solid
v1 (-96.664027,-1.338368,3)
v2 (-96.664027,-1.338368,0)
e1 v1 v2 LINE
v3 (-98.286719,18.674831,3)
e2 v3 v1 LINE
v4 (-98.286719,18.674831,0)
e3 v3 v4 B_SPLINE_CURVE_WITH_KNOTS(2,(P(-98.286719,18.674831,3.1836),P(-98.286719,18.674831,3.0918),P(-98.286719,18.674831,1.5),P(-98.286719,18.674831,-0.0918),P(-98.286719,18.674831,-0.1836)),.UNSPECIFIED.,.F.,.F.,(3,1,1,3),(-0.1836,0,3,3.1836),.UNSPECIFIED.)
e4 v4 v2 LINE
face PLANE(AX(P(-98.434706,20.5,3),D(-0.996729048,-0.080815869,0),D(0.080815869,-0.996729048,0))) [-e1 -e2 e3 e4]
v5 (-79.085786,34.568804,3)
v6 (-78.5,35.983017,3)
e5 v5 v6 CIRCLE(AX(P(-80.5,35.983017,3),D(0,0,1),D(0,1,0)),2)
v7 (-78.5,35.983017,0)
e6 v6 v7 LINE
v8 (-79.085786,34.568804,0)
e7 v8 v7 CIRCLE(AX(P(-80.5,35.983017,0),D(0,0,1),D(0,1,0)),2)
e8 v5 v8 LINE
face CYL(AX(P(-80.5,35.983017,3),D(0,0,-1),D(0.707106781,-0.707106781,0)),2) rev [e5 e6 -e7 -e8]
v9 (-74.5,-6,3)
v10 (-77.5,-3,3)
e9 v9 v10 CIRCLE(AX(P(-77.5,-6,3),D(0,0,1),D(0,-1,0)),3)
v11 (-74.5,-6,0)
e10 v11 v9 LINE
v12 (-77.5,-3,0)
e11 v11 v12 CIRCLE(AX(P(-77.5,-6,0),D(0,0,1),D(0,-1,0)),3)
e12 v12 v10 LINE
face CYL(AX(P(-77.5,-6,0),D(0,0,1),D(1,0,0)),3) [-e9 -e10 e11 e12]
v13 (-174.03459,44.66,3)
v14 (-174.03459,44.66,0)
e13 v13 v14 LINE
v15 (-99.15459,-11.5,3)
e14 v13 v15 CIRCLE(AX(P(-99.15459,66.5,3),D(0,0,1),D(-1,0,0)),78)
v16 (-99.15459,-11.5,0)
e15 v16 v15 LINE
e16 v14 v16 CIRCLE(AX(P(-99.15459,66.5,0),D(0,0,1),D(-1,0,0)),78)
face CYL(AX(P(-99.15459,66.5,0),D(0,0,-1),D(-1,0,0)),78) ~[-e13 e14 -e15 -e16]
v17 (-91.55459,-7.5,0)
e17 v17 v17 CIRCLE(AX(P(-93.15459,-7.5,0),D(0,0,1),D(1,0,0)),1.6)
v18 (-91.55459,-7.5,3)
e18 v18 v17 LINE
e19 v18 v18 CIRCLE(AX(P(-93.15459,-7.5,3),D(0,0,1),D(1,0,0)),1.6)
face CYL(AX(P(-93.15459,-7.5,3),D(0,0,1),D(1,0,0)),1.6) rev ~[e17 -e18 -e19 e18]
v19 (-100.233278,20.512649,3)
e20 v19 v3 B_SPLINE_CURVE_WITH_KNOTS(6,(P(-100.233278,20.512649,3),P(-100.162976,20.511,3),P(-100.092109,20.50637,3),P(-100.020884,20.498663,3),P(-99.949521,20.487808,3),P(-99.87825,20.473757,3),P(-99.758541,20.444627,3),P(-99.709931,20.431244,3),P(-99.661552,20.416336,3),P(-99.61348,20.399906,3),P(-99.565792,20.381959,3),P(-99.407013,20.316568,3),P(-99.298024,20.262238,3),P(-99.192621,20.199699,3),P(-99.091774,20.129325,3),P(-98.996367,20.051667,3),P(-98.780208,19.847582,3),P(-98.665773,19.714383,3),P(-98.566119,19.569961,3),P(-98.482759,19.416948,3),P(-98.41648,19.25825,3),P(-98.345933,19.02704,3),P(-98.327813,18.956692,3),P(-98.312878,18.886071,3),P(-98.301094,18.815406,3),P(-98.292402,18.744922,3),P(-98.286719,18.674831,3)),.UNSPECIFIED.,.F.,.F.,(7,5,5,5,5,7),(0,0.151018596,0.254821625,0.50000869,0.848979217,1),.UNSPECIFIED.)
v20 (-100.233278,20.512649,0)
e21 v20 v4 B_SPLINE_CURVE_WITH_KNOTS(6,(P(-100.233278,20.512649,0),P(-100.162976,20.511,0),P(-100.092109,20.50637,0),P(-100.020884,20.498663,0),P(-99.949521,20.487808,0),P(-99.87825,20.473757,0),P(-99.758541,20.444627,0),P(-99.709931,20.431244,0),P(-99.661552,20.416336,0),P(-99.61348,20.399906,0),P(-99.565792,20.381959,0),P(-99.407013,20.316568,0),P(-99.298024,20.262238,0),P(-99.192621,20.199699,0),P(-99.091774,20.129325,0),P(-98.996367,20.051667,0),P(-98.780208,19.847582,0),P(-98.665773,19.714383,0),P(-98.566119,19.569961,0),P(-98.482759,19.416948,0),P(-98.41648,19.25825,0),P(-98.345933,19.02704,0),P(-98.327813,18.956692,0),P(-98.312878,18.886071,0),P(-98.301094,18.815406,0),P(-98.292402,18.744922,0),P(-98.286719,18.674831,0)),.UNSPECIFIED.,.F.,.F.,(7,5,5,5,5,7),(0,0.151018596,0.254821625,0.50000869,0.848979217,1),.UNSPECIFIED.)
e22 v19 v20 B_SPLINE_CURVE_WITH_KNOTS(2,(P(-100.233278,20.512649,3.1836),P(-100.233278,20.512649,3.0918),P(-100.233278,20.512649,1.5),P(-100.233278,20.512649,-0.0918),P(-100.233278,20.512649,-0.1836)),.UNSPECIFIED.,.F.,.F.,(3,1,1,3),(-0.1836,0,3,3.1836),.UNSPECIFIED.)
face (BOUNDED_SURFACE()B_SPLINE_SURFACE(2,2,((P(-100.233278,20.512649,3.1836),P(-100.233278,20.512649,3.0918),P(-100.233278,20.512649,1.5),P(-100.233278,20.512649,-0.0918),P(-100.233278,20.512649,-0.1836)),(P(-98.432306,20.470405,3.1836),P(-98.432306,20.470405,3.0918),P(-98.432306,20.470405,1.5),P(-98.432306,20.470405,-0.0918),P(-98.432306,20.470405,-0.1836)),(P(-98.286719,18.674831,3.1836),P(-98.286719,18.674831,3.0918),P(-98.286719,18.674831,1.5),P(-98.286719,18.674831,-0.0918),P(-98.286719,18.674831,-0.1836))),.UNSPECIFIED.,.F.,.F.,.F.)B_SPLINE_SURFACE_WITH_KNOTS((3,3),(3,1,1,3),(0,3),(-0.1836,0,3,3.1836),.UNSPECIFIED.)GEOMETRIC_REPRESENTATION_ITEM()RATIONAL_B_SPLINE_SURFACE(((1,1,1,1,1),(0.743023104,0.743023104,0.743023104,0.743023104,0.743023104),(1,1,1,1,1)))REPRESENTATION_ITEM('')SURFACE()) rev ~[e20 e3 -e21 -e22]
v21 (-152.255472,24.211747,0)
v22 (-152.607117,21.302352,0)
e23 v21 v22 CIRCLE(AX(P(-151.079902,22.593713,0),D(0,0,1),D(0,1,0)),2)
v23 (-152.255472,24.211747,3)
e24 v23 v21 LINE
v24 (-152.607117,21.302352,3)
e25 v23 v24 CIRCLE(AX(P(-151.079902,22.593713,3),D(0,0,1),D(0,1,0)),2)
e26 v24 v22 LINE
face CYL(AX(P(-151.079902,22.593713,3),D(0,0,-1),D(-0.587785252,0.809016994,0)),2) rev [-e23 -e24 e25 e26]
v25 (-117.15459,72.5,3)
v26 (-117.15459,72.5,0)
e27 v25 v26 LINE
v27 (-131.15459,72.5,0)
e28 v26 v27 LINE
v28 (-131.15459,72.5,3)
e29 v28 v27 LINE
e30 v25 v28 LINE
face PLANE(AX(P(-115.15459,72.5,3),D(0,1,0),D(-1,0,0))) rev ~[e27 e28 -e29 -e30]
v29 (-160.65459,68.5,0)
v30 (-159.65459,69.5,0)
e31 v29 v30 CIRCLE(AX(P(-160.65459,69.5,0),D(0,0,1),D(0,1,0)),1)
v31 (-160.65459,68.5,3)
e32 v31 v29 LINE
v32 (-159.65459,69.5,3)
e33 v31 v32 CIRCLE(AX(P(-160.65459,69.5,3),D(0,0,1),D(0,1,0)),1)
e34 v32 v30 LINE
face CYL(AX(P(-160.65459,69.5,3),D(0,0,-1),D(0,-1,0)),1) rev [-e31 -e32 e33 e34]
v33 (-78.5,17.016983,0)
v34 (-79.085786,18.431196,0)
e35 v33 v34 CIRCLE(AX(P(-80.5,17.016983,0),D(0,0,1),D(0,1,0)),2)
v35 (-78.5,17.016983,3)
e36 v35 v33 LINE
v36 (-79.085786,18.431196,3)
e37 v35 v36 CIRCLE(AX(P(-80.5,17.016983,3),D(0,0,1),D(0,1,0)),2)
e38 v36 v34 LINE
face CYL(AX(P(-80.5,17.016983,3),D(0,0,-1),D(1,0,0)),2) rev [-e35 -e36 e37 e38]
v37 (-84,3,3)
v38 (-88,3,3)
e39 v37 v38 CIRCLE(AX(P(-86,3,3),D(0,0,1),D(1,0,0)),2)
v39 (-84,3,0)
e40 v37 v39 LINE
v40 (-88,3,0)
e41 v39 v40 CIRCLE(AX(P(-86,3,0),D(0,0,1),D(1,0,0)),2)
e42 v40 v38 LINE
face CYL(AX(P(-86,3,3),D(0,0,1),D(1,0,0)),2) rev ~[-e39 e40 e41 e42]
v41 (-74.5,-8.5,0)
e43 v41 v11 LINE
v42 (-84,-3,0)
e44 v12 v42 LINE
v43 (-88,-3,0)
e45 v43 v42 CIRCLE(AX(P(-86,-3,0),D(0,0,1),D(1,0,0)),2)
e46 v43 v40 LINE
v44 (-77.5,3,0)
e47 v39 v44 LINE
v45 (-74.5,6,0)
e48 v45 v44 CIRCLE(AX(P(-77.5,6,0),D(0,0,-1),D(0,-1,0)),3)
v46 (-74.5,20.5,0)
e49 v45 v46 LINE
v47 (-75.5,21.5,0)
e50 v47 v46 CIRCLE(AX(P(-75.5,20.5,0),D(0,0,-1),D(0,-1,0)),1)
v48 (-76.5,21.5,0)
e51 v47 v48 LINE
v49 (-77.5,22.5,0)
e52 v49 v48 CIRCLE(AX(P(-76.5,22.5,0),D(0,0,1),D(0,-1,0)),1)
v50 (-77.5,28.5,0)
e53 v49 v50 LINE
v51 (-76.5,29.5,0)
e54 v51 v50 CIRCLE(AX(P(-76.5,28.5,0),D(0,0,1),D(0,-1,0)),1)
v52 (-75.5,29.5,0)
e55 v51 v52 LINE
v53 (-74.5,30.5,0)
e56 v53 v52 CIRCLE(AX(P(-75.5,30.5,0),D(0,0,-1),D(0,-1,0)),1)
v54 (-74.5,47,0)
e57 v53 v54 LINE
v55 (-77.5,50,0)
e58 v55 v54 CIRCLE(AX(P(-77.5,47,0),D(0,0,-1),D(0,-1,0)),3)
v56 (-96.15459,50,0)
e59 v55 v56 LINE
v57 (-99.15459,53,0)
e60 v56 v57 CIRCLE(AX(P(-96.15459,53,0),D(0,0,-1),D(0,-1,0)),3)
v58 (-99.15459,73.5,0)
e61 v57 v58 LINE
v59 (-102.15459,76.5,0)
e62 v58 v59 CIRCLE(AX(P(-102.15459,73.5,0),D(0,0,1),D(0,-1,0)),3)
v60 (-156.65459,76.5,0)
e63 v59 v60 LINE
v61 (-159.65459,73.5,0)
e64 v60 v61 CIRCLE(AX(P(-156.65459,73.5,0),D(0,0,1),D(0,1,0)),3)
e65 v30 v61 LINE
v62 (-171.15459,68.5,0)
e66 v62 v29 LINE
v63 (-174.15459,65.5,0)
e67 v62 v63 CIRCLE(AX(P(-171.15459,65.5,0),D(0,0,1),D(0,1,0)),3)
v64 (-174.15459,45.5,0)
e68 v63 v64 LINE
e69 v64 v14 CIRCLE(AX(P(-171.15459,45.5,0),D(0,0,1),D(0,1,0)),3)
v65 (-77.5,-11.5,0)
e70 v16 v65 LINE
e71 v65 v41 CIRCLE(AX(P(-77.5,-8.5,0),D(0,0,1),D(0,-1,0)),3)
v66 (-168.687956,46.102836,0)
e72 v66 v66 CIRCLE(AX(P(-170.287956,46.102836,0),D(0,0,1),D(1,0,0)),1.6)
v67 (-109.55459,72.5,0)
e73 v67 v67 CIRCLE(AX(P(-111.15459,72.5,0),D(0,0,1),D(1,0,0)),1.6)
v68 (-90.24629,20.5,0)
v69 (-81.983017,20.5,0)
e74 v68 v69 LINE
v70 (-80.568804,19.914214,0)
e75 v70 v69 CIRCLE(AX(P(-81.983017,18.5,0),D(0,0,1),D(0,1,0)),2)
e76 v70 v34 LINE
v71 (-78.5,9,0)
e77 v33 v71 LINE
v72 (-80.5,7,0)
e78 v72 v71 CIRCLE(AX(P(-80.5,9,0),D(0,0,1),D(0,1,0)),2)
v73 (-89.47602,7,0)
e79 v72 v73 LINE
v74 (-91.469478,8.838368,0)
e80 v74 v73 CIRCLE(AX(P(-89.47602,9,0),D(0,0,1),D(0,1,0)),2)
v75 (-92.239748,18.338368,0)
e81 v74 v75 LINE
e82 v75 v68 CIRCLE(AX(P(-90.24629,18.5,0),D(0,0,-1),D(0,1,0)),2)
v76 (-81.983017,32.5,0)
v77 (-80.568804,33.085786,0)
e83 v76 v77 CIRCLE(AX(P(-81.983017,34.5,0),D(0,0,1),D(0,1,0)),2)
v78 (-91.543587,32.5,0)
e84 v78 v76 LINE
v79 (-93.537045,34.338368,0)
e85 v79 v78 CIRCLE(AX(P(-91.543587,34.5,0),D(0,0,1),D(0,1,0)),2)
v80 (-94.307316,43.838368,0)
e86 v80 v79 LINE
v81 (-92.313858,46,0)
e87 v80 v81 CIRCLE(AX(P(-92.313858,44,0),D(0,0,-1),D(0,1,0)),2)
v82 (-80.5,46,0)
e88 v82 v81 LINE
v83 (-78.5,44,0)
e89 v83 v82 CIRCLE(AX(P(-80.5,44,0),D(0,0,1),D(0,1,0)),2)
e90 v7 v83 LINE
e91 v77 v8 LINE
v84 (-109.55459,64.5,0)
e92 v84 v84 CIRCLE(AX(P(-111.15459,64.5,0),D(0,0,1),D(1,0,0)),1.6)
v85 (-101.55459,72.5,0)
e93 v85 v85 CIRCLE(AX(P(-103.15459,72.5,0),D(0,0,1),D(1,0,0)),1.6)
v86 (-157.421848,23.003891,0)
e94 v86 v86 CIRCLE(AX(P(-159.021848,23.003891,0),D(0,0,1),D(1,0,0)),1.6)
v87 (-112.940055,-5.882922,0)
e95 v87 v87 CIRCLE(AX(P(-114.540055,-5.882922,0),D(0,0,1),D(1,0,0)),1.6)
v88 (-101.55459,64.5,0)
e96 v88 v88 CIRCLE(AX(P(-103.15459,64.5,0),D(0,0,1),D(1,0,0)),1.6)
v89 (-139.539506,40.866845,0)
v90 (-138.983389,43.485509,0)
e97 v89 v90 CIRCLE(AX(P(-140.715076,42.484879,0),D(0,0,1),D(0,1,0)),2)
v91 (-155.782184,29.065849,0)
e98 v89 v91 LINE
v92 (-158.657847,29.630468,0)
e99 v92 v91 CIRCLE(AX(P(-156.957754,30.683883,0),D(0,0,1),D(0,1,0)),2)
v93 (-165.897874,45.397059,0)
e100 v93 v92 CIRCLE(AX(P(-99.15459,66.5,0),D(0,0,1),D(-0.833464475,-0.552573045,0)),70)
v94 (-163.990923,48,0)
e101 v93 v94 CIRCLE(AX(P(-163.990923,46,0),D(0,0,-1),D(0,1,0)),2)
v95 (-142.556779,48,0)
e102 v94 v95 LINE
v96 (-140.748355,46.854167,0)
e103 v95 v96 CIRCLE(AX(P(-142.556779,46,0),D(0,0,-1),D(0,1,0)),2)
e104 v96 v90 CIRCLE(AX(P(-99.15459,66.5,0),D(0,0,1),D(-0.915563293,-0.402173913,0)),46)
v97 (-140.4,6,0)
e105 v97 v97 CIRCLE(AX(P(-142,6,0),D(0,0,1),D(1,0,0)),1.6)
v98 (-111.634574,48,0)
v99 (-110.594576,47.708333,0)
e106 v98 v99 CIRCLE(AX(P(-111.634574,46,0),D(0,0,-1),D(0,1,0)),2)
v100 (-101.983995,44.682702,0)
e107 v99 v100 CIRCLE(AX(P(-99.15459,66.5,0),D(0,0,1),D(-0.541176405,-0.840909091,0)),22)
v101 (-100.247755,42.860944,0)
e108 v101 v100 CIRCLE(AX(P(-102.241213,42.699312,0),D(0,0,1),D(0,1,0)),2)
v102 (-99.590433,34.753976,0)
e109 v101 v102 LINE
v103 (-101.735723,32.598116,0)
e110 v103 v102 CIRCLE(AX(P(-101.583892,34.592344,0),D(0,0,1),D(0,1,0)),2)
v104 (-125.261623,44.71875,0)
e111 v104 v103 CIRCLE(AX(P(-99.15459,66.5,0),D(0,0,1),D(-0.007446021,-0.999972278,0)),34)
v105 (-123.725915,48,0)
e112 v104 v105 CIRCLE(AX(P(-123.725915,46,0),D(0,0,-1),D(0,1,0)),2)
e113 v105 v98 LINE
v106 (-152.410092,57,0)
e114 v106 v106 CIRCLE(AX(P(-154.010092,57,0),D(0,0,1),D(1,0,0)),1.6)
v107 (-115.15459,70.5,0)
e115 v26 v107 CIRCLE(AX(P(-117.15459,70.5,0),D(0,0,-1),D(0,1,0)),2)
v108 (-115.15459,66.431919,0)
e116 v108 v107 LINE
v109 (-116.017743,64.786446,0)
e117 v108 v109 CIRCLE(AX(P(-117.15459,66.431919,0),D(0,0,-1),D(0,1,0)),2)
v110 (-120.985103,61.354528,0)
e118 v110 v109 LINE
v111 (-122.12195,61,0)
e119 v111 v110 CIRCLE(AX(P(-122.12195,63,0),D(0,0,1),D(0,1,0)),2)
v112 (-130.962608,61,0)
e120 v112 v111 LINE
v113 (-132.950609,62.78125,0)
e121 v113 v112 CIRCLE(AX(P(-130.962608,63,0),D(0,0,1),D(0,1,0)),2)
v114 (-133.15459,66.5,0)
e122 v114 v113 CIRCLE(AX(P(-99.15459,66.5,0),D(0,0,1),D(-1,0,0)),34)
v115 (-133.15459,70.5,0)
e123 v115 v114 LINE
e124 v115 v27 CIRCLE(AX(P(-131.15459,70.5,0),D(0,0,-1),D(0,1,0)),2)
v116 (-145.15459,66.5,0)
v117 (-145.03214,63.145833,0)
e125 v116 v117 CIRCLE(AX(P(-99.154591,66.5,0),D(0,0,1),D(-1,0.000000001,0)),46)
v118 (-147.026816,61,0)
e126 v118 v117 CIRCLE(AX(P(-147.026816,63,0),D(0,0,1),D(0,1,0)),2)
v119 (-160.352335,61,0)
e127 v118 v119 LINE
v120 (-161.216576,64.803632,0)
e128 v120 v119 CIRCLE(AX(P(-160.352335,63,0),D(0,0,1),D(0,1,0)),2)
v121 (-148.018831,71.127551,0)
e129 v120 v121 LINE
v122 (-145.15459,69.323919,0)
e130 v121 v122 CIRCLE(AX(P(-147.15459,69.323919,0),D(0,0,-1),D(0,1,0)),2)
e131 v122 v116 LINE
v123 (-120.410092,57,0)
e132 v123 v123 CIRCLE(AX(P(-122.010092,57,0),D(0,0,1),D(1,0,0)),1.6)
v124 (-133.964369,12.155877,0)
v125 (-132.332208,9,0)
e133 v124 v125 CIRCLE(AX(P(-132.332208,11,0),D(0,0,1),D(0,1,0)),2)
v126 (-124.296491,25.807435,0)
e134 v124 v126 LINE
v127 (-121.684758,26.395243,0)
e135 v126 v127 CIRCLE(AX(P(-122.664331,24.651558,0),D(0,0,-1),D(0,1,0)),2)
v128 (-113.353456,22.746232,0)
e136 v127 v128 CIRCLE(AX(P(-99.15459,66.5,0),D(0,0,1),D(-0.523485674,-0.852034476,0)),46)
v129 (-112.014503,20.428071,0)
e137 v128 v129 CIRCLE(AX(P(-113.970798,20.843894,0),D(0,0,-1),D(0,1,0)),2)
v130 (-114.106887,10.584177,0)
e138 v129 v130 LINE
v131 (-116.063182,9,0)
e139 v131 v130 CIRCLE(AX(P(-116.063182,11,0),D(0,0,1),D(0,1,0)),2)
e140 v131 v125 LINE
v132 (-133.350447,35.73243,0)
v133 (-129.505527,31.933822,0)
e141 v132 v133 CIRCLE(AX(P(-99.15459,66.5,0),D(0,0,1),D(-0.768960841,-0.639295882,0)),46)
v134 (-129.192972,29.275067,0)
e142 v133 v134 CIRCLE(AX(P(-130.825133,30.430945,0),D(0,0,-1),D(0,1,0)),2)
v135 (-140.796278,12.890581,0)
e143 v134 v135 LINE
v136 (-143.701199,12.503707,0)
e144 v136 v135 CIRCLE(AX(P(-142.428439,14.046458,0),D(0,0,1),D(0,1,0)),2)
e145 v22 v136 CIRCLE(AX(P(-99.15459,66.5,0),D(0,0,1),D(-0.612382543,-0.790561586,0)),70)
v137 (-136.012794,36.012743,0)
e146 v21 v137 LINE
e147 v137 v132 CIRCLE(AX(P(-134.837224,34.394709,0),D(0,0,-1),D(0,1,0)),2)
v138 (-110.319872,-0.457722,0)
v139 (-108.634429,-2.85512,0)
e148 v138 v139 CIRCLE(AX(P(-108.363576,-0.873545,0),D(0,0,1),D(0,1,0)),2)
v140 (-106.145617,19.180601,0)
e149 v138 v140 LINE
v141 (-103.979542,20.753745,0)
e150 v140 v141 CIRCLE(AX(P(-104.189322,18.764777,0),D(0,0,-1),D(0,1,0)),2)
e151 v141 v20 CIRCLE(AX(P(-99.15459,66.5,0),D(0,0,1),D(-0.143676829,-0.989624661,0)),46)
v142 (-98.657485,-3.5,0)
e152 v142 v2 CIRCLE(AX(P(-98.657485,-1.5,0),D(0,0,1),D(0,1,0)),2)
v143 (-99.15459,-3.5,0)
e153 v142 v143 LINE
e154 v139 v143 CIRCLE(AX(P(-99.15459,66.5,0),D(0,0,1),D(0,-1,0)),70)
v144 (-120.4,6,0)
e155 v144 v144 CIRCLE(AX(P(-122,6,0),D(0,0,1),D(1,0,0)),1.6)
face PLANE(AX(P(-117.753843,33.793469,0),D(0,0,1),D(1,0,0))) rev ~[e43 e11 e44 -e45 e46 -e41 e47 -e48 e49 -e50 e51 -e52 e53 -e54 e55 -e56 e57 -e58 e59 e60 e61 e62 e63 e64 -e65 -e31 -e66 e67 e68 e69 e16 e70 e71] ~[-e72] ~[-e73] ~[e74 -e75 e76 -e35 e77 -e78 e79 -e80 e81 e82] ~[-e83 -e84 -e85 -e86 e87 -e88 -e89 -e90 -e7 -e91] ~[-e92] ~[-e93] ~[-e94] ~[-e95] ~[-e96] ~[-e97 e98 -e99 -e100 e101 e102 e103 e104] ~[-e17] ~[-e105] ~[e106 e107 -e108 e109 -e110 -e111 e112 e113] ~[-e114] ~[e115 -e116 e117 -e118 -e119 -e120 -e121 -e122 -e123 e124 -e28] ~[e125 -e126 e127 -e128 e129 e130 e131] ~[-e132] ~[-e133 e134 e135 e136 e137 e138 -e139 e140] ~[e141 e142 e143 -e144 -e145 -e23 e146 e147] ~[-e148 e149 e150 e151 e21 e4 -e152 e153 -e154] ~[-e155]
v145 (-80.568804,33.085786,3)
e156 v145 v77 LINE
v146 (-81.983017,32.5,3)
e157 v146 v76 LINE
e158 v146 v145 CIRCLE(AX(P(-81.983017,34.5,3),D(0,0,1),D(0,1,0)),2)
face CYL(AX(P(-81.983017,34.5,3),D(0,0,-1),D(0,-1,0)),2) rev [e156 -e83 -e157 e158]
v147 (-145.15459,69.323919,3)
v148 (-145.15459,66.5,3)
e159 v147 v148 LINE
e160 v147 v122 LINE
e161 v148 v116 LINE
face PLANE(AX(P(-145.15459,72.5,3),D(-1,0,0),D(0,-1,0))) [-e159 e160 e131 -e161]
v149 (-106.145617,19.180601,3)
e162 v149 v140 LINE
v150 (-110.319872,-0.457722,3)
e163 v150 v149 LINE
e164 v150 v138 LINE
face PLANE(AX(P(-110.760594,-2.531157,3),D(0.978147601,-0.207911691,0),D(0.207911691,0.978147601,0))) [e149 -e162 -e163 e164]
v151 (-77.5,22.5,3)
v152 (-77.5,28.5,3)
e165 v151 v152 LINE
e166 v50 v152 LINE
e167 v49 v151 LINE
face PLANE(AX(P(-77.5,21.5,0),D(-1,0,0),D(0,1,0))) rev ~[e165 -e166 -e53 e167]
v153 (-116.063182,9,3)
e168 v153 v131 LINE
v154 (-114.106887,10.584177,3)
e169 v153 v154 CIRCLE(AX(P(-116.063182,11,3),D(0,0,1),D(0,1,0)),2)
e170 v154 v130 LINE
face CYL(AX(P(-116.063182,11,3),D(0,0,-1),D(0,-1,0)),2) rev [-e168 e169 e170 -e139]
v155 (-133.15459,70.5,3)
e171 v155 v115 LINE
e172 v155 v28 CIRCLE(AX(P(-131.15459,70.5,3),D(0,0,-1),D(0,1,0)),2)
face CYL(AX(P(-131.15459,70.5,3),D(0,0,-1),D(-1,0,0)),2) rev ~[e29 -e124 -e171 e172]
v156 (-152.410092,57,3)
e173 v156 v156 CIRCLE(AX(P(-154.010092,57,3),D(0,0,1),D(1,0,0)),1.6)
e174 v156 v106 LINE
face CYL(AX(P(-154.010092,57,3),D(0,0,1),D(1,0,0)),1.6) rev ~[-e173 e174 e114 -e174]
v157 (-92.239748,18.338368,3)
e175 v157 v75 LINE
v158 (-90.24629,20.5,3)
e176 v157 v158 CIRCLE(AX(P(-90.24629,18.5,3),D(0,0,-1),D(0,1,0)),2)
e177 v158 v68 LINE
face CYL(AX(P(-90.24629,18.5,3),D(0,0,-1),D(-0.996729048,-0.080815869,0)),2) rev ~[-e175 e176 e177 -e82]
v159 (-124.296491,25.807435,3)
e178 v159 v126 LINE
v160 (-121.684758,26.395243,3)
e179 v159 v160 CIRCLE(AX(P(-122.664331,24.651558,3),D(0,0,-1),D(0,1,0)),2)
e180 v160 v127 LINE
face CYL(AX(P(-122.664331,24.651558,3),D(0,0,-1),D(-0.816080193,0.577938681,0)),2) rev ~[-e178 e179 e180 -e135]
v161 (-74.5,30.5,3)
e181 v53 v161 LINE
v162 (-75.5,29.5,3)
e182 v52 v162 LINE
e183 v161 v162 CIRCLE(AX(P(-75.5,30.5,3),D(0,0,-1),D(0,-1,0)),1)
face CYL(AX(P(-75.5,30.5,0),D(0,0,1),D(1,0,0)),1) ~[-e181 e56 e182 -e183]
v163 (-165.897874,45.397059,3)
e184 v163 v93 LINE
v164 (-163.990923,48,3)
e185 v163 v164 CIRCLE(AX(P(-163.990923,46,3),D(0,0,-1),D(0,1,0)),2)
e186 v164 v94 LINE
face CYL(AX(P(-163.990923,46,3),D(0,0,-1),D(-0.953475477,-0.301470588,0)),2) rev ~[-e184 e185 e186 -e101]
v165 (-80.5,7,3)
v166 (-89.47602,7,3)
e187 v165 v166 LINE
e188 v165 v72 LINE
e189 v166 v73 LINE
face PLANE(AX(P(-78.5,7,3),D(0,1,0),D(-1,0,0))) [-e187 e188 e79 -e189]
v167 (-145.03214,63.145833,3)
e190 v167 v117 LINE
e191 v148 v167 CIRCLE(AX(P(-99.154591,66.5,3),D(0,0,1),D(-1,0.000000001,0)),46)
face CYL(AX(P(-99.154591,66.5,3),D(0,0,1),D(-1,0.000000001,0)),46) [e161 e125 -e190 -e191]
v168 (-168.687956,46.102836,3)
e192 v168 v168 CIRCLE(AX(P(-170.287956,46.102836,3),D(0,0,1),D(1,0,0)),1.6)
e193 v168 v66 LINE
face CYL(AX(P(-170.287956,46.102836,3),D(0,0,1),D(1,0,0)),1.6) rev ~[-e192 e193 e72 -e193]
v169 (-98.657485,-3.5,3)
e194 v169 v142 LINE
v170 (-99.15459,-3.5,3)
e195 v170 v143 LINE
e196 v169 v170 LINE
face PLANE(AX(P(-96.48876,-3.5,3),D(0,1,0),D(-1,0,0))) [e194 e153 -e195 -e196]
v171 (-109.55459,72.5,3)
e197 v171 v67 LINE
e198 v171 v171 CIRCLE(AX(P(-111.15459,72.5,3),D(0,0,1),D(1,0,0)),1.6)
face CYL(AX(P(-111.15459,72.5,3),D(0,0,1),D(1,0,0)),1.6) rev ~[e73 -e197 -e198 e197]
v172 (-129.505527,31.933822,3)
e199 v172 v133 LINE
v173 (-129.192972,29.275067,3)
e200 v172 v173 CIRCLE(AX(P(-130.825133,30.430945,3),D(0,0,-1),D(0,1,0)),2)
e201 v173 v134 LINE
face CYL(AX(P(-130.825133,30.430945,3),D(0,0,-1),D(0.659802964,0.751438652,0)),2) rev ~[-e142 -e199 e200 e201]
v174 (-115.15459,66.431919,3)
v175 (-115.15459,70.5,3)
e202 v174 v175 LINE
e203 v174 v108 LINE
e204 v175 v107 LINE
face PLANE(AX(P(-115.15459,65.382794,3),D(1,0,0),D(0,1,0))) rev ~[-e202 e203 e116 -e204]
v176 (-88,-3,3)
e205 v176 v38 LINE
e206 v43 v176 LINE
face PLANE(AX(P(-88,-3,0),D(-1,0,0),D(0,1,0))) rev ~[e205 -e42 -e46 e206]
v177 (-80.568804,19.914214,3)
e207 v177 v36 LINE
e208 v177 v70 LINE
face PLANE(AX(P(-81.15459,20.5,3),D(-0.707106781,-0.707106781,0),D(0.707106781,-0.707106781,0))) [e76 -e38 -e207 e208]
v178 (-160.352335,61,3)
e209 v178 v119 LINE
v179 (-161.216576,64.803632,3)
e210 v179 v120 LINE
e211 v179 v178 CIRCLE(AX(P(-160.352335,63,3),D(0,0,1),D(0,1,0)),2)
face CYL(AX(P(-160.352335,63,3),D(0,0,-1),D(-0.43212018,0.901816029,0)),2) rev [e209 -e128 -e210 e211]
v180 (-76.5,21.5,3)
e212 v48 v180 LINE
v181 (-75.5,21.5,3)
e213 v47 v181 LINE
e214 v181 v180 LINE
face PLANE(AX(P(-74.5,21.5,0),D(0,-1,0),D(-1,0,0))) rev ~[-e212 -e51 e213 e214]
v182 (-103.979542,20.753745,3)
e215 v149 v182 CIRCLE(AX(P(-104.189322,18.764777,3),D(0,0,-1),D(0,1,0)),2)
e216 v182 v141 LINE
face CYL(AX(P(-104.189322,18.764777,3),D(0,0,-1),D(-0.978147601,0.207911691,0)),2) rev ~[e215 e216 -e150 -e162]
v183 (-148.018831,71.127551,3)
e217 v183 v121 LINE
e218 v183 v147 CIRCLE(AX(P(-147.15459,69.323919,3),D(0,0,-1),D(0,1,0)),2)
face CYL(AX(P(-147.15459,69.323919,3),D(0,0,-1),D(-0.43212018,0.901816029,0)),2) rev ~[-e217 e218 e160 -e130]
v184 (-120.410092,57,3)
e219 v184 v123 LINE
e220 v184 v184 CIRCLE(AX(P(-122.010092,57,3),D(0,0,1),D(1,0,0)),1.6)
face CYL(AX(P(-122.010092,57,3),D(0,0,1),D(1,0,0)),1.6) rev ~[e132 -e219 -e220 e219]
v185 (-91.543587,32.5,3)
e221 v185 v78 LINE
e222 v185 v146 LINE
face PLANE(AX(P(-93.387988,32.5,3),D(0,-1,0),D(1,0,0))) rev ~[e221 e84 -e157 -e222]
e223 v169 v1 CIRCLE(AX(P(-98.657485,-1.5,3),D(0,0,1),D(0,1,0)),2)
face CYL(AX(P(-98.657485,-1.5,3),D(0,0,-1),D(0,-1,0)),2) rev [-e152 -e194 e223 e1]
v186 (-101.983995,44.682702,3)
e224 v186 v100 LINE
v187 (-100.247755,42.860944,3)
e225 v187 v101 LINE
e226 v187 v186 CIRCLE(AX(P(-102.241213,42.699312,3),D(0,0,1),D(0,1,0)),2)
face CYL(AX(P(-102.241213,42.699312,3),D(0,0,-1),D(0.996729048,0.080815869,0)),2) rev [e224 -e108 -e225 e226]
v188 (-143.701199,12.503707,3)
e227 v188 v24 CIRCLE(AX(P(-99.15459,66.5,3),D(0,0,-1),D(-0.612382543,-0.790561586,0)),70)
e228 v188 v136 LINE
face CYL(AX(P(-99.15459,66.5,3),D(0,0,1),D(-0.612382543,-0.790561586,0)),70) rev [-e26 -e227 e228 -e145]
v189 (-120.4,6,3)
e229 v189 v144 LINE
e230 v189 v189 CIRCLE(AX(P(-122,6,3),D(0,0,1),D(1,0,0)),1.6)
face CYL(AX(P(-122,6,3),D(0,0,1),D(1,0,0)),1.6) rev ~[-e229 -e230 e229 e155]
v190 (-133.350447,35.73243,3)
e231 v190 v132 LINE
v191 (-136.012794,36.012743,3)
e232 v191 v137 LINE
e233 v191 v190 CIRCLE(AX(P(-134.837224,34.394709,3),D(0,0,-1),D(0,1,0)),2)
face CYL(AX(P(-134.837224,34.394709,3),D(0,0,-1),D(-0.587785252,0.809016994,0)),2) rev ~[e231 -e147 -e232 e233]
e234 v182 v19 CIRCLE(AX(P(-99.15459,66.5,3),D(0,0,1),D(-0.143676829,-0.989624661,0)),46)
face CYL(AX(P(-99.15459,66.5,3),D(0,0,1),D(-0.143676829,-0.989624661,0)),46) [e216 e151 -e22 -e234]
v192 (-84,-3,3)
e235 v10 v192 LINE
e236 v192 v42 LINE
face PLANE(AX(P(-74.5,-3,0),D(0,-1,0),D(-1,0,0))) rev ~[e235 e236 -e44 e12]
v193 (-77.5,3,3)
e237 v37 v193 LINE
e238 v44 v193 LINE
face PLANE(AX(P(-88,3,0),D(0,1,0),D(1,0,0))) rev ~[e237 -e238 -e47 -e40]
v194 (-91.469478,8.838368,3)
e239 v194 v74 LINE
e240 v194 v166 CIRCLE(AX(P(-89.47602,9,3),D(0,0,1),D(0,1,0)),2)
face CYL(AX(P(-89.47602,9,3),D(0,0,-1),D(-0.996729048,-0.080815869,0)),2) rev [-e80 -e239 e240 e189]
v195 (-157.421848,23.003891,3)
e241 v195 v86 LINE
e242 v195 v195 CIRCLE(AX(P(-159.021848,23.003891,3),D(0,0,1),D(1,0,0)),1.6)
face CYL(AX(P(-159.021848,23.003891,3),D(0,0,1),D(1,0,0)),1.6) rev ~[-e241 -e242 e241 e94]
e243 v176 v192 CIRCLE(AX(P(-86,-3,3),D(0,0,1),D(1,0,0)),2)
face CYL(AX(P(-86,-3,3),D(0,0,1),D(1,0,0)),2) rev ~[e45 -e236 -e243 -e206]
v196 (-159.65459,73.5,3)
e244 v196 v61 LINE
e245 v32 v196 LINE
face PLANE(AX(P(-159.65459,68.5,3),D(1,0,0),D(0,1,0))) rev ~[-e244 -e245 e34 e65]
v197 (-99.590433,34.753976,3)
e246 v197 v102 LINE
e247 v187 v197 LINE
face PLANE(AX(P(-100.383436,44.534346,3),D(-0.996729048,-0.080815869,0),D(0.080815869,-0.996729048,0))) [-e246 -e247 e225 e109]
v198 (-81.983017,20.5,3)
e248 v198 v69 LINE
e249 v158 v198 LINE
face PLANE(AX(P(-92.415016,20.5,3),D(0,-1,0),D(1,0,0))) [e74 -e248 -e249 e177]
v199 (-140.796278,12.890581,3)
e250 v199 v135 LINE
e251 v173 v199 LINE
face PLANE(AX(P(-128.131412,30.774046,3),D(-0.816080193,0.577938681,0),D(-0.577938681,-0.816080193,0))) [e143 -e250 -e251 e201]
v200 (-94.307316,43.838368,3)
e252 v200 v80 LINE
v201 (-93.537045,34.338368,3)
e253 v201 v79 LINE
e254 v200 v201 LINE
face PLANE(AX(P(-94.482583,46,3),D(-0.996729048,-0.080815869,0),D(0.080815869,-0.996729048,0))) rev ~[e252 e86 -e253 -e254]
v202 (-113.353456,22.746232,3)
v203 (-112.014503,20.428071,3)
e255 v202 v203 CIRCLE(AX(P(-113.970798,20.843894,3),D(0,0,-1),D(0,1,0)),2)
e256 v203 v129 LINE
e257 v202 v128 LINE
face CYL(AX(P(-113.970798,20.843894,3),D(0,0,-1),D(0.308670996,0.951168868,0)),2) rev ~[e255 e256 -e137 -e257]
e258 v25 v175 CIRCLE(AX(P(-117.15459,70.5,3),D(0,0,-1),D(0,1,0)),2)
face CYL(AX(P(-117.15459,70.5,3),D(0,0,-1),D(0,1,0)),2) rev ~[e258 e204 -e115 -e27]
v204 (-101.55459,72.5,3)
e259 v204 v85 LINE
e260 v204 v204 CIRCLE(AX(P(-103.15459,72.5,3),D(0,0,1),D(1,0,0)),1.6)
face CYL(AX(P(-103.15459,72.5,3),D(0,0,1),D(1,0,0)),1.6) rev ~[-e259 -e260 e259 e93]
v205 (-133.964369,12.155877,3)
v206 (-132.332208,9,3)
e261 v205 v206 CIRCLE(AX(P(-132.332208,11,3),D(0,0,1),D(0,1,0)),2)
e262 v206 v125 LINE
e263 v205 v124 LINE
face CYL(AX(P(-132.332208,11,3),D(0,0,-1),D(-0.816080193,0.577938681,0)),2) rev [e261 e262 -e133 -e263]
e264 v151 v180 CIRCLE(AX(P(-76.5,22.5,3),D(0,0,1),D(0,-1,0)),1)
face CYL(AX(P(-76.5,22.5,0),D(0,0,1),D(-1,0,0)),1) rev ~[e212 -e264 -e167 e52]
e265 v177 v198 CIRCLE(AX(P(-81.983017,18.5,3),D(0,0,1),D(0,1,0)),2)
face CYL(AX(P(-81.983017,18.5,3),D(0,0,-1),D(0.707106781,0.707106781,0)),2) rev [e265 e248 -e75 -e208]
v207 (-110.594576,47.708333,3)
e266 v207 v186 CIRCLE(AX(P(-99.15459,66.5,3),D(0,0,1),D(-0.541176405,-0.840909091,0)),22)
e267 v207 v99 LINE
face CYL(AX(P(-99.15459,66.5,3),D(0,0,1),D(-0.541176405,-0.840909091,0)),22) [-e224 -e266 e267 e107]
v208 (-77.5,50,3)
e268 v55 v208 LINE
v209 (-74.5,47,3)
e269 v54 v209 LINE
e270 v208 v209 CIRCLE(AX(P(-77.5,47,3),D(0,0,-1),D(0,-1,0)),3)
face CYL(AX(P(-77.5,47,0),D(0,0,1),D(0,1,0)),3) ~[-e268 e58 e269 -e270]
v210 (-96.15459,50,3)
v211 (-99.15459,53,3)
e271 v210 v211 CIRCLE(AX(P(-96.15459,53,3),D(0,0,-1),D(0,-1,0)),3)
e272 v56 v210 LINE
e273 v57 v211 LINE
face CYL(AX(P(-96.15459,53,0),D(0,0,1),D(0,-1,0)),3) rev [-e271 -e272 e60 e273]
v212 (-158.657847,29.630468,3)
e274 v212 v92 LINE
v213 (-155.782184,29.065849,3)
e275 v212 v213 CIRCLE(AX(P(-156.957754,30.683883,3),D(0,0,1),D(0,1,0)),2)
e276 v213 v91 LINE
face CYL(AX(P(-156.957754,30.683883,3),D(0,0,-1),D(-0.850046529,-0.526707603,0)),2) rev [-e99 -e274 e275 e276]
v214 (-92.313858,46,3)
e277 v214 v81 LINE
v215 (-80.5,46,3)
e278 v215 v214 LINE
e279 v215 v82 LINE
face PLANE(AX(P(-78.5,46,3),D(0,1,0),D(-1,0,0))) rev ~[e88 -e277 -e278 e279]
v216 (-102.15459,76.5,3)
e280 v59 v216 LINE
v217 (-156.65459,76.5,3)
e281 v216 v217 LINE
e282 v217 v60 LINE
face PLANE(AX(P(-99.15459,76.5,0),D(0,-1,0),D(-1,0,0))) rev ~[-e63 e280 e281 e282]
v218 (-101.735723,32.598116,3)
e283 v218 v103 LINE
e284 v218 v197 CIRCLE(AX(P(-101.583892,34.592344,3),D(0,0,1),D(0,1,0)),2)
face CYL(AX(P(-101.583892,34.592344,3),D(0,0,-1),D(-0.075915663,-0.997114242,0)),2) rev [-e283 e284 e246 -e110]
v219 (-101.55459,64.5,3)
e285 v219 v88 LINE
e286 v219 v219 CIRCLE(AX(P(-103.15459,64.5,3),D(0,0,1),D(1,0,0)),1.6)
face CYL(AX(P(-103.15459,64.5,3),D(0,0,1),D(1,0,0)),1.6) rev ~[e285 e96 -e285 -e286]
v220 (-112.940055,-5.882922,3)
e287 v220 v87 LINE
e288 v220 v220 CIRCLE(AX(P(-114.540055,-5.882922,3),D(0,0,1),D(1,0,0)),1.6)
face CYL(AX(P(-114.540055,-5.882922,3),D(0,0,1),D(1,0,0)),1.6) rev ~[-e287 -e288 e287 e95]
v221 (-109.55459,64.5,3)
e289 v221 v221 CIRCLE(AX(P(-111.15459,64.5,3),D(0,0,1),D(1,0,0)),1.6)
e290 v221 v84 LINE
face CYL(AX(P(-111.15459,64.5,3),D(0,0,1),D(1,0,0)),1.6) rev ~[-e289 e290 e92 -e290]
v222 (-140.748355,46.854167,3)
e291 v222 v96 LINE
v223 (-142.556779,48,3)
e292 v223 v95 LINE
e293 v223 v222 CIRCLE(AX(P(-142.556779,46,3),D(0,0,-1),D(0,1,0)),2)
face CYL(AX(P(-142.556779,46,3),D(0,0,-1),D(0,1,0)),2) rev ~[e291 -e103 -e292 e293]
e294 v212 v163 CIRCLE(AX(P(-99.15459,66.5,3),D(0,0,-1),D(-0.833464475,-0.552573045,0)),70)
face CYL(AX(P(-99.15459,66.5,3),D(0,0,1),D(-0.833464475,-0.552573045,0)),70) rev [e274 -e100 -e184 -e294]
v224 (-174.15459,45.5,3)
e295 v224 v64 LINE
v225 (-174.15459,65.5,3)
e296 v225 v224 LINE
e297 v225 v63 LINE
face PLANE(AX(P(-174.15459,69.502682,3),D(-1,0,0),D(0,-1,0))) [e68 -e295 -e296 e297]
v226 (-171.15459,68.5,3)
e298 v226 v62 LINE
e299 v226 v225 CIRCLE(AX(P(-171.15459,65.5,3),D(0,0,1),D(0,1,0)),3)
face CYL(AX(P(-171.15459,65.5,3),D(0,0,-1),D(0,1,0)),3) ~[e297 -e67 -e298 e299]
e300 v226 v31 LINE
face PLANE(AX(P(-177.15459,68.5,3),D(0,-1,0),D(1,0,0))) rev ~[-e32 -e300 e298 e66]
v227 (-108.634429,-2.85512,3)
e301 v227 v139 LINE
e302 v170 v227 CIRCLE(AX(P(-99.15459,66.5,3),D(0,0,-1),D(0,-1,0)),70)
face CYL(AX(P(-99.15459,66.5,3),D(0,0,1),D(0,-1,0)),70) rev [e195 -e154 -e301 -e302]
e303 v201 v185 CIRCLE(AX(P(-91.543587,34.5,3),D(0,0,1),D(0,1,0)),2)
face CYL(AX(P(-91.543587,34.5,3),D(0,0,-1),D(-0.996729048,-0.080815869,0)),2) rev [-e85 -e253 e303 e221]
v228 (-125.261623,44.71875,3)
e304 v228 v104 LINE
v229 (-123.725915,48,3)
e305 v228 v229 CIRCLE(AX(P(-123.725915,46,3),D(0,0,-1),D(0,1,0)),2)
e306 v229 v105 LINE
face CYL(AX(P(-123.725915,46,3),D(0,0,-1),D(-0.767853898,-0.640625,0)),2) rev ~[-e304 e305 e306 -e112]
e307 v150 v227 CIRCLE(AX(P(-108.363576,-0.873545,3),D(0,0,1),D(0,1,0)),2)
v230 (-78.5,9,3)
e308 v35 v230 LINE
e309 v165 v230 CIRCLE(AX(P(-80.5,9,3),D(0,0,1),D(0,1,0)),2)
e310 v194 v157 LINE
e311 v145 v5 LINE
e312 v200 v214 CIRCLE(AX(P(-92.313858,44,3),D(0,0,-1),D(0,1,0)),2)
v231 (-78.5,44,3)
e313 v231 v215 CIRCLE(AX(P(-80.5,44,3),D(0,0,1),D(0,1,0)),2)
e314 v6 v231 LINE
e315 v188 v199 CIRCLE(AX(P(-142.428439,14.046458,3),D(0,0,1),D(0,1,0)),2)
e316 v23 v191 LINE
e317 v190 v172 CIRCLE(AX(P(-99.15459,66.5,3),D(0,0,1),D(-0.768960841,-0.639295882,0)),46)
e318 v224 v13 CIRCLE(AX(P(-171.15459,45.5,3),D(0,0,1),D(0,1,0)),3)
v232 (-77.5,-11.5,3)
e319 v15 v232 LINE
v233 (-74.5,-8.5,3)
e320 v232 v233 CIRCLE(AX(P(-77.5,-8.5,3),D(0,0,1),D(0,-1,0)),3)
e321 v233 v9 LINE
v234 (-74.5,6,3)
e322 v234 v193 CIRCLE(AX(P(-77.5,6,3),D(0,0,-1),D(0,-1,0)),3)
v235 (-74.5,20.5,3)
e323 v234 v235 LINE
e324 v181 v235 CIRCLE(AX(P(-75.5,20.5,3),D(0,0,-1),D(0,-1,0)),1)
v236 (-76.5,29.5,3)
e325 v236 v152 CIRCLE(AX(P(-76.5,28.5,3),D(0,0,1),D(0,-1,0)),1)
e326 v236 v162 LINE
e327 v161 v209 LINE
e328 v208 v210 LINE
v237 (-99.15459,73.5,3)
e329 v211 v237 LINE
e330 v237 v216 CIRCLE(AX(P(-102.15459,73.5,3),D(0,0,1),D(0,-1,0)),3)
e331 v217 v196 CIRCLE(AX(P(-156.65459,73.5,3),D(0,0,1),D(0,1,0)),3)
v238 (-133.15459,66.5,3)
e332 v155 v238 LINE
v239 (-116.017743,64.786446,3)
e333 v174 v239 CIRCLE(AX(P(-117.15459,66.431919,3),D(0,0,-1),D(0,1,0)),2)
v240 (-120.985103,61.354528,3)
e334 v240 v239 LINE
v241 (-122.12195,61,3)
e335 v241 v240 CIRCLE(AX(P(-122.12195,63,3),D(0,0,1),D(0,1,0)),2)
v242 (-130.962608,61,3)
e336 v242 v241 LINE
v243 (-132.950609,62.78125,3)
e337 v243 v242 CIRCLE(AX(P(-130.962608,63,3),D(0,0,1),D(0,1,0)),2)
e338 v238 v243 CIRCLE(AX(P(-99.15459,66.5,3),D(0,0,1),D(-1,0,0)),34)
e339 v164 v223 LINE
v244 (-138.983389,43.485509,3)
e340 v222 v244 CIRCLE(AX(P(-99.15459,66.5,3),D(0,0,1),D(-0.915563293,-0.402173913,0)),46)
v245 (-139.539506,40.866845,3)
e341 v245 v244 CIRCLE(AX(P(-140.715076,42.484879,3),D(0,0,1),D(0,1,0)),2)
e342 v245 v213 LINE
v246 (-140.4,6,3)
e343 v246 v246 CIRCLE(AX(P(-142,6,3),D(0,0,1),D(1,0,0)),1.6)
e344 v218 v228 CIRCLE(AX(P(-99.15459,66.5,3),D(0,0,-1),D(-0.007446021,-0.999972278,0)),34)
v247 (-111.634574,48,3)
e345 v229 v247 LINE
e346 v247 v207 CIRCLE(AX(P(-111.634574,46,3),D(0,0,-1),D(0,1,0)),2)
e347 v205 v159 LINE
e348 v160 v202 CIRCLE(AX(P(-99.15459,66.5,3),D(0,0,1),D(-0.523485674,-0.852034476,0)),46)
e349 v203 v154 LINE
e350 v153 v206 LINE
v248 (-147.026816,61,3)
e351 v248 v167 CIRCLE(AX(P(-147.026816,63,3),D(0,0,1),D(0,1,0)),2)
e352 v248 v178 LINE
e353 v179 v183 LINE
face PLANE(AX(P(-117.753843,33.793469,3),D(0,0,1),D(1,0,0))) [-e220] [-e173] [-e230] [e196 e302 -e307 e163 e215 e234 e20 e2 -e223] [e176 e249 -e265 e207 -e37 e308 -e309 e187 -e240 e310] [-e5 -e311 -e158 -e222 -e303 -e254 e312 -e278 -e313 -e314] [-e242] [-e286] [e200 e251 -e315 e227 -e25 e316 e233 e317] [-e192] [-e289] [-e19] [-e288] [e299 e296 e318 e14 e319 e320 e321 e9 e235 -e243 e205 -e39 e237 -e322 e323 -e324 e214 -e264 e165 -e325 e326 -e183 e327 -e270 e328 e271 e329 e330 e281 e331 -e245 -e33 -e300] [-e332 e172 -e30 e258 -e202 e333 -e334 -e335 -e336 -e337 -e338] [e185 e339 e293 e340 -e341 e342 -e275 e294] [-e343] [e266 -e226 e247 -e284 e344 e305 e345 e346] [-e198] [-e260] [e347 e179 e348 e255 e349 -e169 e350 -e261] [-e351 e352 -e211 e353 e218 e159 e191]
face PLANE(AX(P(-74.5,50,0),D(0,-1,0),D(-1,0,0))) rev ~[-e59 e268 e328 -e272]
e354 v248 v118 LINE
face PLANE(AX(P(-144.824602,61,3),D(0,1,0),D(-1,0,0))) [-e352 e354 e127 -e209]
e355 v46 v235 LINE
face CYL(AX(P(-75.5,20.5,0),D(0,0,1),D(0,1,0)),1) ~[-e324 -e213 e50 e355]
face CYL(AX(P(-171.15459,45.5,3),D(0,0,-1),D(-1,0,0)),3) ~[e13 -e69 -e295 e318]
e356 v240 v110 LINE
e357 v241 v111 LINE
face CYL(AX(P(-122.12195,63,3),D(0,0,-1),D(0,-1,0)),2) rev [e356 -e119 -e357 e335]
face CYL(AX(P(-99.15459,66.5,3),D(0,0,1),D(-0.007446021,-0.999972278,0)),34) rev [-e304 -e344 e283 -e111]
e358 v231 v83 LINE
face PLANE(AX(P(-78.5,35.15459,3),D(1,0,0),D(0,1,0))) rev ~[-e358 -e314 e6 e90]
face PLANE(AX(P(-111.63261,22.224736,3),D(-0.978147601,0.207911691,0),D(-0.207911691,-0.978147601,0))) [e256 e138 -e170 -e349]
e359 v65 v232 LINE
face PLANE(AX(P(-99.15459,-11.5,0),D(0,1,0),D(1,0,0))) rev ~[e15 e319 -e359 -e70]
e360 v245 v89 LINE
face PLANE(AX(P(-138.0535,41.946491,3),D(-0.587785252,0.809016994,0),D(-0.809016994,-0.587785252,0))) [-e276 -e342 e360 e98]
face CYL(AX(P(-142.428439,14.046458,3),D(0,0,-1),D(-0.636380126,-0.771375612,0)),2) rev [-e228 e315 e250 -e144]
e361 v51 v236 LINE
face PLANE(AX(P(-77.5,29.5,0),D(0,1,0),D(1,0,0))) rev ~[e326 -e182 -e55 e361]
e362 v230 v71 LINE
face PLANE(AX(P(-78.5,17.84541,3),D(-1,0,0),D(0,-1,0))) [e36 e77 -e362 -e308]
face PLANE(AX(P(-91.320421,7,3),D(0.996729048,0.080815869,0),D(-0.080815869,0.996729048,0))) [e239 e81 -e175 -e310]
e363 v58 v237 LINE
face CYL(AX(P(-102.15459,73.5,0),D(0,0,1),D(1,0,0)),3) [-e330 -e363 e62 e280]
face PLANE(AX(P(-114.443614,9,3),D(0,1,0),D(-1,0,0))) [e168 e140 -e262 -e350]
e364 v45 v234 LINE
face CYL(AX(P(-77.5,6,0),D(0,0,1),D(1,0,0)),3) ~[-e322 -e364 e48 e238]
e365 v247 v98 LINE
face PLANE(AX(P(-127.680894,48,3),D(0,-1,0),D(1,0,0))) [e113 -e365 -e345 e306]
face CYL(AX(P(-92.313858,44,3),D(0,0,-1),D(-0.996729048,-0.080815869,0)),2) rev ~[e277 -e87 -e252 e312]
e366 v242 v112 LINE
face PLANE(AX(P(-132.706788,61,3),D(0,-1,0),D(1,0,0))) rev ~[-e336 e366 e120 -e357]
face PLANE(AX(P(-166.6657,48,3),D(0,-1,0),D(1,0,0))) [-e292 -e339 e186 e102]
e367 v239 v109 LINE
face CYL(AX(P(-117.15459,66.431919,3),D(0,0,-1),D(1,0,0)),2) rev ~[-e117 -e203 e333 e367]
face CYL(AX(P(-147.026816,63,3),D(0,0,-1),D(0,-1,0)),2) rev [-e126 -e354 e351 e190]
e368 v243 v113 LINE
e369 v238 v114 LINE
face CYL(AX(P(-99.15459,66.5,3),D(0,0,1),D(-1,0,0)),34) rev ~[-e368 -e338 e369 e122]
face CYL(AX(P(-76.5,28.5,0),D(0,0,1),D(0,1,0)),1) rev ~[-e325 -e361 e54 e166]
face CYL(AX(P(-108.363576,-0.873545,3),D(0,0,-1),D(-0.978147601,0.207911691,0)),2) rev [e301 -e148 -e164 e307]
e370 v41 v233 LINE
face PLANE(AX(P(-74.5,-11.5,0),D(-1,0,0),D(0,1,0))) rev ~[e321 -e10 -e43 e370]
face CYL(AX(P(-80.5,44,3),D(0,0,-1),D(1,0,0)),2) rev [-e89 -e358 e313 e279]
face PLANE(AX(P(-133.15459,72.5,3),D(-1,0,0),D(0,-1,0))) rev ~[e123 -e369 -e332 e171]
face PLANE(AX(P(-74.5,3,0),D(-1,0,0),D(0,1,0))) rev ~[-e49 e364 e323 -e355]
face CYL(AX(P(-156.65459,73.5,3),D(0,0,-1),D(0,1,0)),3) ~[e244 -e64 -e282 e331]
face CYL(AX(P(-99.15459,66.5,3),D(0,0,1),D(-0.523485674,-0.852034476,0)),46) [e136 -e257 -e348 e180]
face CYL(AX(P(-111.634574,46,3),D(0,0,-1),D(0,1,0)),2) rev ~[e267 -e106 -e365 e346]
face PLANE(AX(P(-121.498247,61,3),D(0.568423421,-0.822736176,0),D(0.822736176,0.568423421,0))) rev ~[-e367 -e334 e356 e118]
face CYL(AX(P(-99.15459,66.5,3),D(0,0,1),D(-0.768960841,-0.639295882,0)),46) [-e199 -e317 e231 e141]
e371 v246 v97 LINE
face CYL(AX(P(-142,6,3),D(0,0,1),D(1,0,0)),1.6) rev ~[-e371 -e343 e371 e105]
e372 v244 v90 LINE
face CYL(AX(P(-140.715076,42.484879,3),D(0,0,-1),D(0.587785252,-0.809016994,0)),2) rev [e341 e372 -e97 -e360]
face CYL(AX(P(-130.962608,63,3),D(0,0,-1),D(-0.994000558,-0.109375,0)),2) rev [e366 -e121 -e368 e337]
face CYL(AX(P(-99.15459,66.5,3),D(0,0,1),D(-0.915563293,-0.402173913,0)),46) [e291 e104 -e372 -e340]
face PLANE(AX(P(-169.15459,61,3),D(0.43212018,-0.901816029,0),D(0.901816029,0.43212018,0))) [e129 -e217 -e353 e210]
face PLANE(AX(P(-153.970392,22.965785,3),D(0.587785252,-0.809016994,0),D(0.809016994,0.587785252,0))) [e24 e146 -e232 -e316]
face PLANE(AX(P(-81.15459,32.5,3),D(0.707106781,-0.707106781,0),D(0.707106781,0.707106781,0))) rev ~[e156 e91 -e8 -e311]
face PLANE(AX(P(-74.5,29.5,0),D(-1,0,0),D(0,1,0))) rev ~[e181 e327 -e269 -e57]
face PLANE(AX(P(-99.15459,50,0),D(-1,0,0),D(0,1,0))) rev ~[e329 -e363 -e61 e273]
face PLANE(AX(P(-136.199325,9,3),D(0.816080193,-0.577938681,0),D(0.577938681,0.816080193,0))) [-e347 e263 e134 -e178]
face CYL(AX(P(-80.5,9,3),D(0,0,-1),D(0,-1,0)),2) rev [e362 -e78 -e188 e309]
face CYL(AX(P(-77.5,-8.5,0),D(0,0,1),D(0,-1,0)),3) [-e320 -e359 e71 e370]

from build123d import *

# Parameters (mm, degrees)
EXTRUDE_1_DEPTH     = 3
SKETCH_3_R          = 2
CUT_EXTRUDE_1_DEPTH = 3
SKETCH_5_W          = 17.5
SKETCH_5_H          = 8
CUT_EXTRUDE_2_DEPTH = 3
FILLET_1_R          = 1
FILLET_2_R          = 1
CUT_EXTRUDE_3_DEPTH = 10
SKETCH_7_R          = 1.6
CUT_EXTRUDE_4_DEPTH = 10
SKETCH_8_R          = 1.6
CUT_EXTRUDE_5_DEPTH = 10
SKETCH_9_R          = 1.6
CUT_EXTRUDE_6_DEPTH = 3
SKETCH_10_R         = 1.6
CUT_EXTRUDE_7_DEPTH = 3
FILLET_3_R          = 3
FILLET_4_R          = 3
CUT_EXTRUDE_8_DEPTH = 11.6
CUT_EXTRUDE_9_DEPTH = 11.6
FILLET_5_R          = 2


with BuildPart() as part:
    # 草图2 → 凸台-拉伸1 (new body)
    with BuildSketch(Plane.XY):
        with BuildLine():
            Line((-177.154590294, 76.5), (-177.154590294, 66.5))
            ThreePointArc((-177.154590294, 66.5), (-154.308919227, 11.345671067), (-99.154590294, -11.5))
            Line((-99.154590294, -11.5), (-88, -11.5))
            Line((-88, -11.5), (-74.5, -11.5))
            Line((-74.5, -11.5), (-74.5, -3))
            Line((-74.5, -3), (-88, -3))
            Line((-88, -3), (-88, 3))
            Line((-88, 3), (-74.5, 3))
            Line((-74.5, 3), (-74.5, 21.5))
            Line((-74.5, 21.5), (-77.5, 21.5))
            Line((-77.5, 21.5), (-77.5, 29.5))
            Line((-77.5, 29.5), (-74.5, 29.5))
            Line((-74.5, 29.5), (-74.5, 50))
            Line((-74.5, 50), (-99.154590294, 50))
            Line((-99.154590294, 50), (-99.154590294, 76.5))
            Line((-99.154590294, 76.5), (-177.154590294, 76.5))
        make_face()
    extrude(amount=EXTRUDE_1_DEPTH)

    # 草图3 → 切除-拉伸1 (cut)
    with BuildSketch(Plane.XY.offset(3)):
        with Locations((-86, 3)):
            Circle(SKETCH_3_R)
        with Locations((-86, -3)):
            Circle(SKETCH_3_R)
    extrude(amount=-CUT_EXTRUDE_1_DEPTH, mode=Mode.SUBTRACT)

    # 草图5 → 切除-拉伸2 (cut)
    with BuildSketch(Plane.XY.offset(3)):
        with Locations((-168.404590294, 72.5)):
            Rectangle(SKETCH_5_W, SKETCH_5_H)
    extrude(amount=-CUT_EXTRUDE_2_DEPTH, mode=Mode.SUBTRACT)

    # 圆角1
    fillet_1_edges = [part.edges().sort_by_distance(p)[0] for p in [
        (-159.654590294, 68.5, 1.5),
    ]]
    fillet(fillet_1_edges, radius=FILLET_1_R)

    # 圆角2
    fillet_2_edges = [part.edges().sort_by_distance(p)[0] for p in [
        (-74.5, 29.5, 1.5),
        (-77.5, 29.5, 1.5),
        (-77.5, 21.5, 1.5),
        (-74.5, 21.5, 1.5),
    ]]
    fillet(fillet_2_edges, radius=FILLET_2_R)

    # 草图6 → 切除-拉伸3 (cut)
    with BuildSketch(Plane.XY.offset(3)):
        Polygon((-174.154590294, 69.502681713), (-174.154590294, 33.470652635), (-188.349025992, 74.64093898), align=None)
    extrude(amount=-CUT_EXTRUDE_3_DEPTH, mode=Mode.SUBTRACT)

    # 草图7 → 切除-拉伸4 (cut)
    with BuildSketch(Plane.XY.offset(3)):
        with Locations((-122, 6)):
            Circle(SKETCH_7_R)
        with Locations((-142, 6)):
            Circle(SKETCH_7_R)
    extrude(amount=-CUT_EXTRUDE_4_DEPTH, mode=Mode.SUBTRACT)

    # 草图8 → 切除-拉伸5 (cut)
    with BuildSketch(Plane.XY.offset(3)):
        with Locations((-170.287955794, 46.10283567)):
            Circle(SKETCH_8_R)
        with Locations((-159.021847878, 23.00389133)):
            Circle(SKETCH_8_R)
        with Locations((-93.154590294, -7.5)):
            Circle(SKETCH_8_R)
        with Locations((-114.540055415, -5.882922454)):
            Circle(SKETCH_8_R)
    extrude(amount=-CUT_EXTRUDE_5_DEPTH, mode=Mode.SUBTRACT)

    # 草图9 → 切除-拉伸6 (cut)
    with BuildSketch(Plane.XY.offset(3)):
        with Locations((-103.154590294, 72.5)):
            Circle(SKETCH_9_R)
        with Locations((-111.154590294, 72.5)):
            Circle(SKETCH_9_R)
        with Locations((-111.154590294, 64.5)):
            Circle(SKETCH_9_R)
        with Locations((-103.154590294, 64.5)):
            Circle(SKETCH_9_R)
    extrude(amount=-CUT_EXTRUDE_6_DEPTH, mode=Mode.SUBTRACT)

    # 草图10 → 切除-拉伸7 (cut)
    with BuildSketch(Plane.XY.offset(3)):
        with Locations((-122.010091835, 57)):
            Circle(SKETCH_10_R)
        with Locations((-154.010091835, 57)):
            Circle(SKETCH_10_R)
    extrude(amount=-CUT_EXTRUDE_7_DEPTH, mode=Mode.SUBTRACT)

    # 圆角3
    fillet_3_edges = [part.edges().sort_by_distance(p)[0] for p in [
        (-99.154590294, 50, 1.5),
    ]]
    fillet(fillet_3_edges, radius=FILLET_3_R)

    # 圆角4
    fillet_4_edges = [part.edges().sort_by_distance(p)[0] for p in [
        (-174.154590294, 68.5, 1.5),
        (-174.154590294, 45.075714714, 1.5),
        (-99.154590294, 76.5, 1.5),
        (-74.5, 50, 1.5),
        (-74.5, 3, 1.5),
        (-74.5, -3, 1.5),
        (-74.5, -11.5, 1.5),
        (-159.654590294, 76.5, 1.5),
    ]]
    fillet(fillet_4_edges, radius=FILLET_4_R)

    # 草图13 → 切除-拉伸8 (cut)
    with BuildSketch(Plane.XY.offset(3)):
        with BuildLine():
            Line((-166.665700491, 48), (-141.270501777, 48))
            ThreePointArc((-141.270501777, 48), (-139.774924791, 44.913234948), (-138.053500491, 41.946491381))
            Line((-138.053500491, 41.946491381), (-157.497103519, 27.819886884))
            ThreePointArc((-157.497103519, 27.819886884), (-162.885217731, 37.544739224), (-166.665700491, 48))
        make_face()
        with BuildLine():
            ThreePointArc((-134.526788978, 37.092389415), (-131.483826087, 33.776606028), (-128.131412478, 30.774046183))
            Line((-128.131412478, 30.774046183), (-142.021368274, 11.160688967))
            ThreePointArc((-142.021368274, 11.160688967), (-148.351253457, 16.703530912), (-153.970392005, 22.965784918))
            Line((-153.970392005, 22.965784918), (-134.526788978, 37.092389415))
        make_face()
        with BuildLine():
            Line((-127.680893946, 48), (-111.060471194, 48))
            ThreePointArc((-111.060471194, 48), (-105.946714568, 45.574727054), (-100.383436414, 44.53434642))
            Line((-100.383436414, 44.53434642), (-99.407755019, 32.500942548))
            ThreePointArc((-99.407755019, 32.500942548), (-115.498385615, 36.685903426), (-127.680893946, 48))
        make_face()
        with BuildLine():
            Line((-133.154590294, 72.5), (-133.154590294, 66.5))
            ThreePointArc((-133.154590294, 66.5), (-133.042454912, 63.740900214), (-132.706788434, 61))
            Line((-132.706788434, 61), (-121.498246805, 61))
            Line((-121.498246805, 61), (-115.154590294, 65.382793706))
            Line((-115.154590294, 65.382793706), (-115.154590294, 72.5))
            Line((-115.154590294, 72.5), (-133.154590294, 72.5))
        make_face()
        with BuildLine():
            ThreePointArc((-123.234931322, 27.306414096), (-117.609516434, 24.364317958), (-111.632610014, 22.224735756))
            Line((-111.632610014, 22.224735756), (-114.443614375, 9))
            Line((-114.443614375, 9), (-136.199324912, 9))
            Line((-136.199324912, 9), (-123.234931322, 27.306414096))
        make_face()
        with BuildLine():
            ThreePointArc((-105.763724409, 20.977265611), (-102.467762347, 20.619471549), (-99.154590294, 20.5))
            Line((-99.154590294, 20.5), (-98.434705623, 20.5))
            Line((-98.434705623, 20.5), (-96.488759677, -3.5))
            Line((-96.488759677, -3.5), (-99.154590294, -3.5))
            ThreePointArc((-99.154590294, -3.5), (-104.977776216, -3.257368827), (-110.760593955, -2.531157306))
            Line((-110.760593955, -2.531157306), (-105.763724409, 20.977265611))
        make_face()
    extrude(amount=-CUT_EXTRUDE_8_DEPTH, mode=Mode.SUBTRACT)

    # 草图14 → 切除-拉伸9 (cut)
    with BuildSketch(Plane.XY.offset(3)):
        with BuildLine():
            Line((-145.154590294, 72.5), (-145.154590294, 66.5))
            ThreePointArc((-145.154590294, 66.5), (-145.072019197, 63.745054808), (-144.824602337, 61))
            Line((-144.824602337, 61), (-169.154590294, 61))
            Line((-169.154590294, 61), (-145.154590294, 72.5))
        make_face()
        Polygon((-94.482583074, 46), (-93.387988479, 32.5), (-81.154590294, 32.5), (-78.5, 35.154590294), (-78.5, 46), align=None)
        Polygon((-92.415015506, 20.5), (-81.154590294, 20.5), (-78.5, 17.845409706), (-78.5, 7), (-91.320420912, 7), align=None)
    extrude(amount=-CUT_EXTRUDE_9_DEPTH, mode=Mode.SUBTRACT)

    # 圆角5
    fillet_5_edges = [part.edges().sort_by_distance(p)[0] for p in [
        (-111.632610014, 22.224735756, 1.5),
        (-114.443614375, 9, 1.5),
        (-136.199324912, 9, 1.5),
        (-123.234931322, 27.306414096, 1.5),
        (-115.154590294, 72.5, 1.5),
        (-115.154590294, 65.382793706, 1.5),
        (-121.498246805, 61, 1.5),
        (-132.706788434, 61, 1.5),
        (-133.154590294, 72.5, 1.5),
        (-128.131412478, 30.774046183, 1.5),
        (-142.021368274, 11.160688967, 1.5),
        (-153.970392005, 22.965784918, 1.5),
        (-134.526788978, 37.092389415, 1.5),
        (-138.053500491, 41.946491381, 1.5),
        (-157.497103519, 27.819886884, 1.5),
        (-166.665700491, 48, 1.5),
        (-98.434705623, 20.5, 1.5),
        (-96.488759677, -3.5, 1.5),
        (-110.760593955, -2.531157306, 1.5),
        (-105.763724409, 20.977265611, 1.5),
        (-111.060471194, 48, 1.5),
        (-100.383436414, 44.53434642, 1.5),
        (-99.407755019, 32.500942548, 1.5),
        (-127.680893946, 48, 1.5),
        (-81.154590294, 20.5, 1.5),
        (-78.5, 17.845409706, 1.5),
        (-78.5, 7, 1.5),
        (-91.320420912, 7, 1.5),
        (-92.415015506, 20.5, 1.5),
        (-78.5, 35.154590294, 1.5),
        (-81.154590294, 32.5, 1.5),
        (-93.387988479, 32.5, 1.5),
        (-94.482583074, 46, 1.5),
        (-78.5, 46, 1.5),
        (-144.824602337, 61, 1.5),
        (-169.154590294, 61, 1.5),
        (-145.154590294, 72.5, 1.5),
        (-141.270501777, 48, 1.5),
    ]]
    fillet(fillet_5_edges, radius=FILLET_5_R)


solid = part.part
